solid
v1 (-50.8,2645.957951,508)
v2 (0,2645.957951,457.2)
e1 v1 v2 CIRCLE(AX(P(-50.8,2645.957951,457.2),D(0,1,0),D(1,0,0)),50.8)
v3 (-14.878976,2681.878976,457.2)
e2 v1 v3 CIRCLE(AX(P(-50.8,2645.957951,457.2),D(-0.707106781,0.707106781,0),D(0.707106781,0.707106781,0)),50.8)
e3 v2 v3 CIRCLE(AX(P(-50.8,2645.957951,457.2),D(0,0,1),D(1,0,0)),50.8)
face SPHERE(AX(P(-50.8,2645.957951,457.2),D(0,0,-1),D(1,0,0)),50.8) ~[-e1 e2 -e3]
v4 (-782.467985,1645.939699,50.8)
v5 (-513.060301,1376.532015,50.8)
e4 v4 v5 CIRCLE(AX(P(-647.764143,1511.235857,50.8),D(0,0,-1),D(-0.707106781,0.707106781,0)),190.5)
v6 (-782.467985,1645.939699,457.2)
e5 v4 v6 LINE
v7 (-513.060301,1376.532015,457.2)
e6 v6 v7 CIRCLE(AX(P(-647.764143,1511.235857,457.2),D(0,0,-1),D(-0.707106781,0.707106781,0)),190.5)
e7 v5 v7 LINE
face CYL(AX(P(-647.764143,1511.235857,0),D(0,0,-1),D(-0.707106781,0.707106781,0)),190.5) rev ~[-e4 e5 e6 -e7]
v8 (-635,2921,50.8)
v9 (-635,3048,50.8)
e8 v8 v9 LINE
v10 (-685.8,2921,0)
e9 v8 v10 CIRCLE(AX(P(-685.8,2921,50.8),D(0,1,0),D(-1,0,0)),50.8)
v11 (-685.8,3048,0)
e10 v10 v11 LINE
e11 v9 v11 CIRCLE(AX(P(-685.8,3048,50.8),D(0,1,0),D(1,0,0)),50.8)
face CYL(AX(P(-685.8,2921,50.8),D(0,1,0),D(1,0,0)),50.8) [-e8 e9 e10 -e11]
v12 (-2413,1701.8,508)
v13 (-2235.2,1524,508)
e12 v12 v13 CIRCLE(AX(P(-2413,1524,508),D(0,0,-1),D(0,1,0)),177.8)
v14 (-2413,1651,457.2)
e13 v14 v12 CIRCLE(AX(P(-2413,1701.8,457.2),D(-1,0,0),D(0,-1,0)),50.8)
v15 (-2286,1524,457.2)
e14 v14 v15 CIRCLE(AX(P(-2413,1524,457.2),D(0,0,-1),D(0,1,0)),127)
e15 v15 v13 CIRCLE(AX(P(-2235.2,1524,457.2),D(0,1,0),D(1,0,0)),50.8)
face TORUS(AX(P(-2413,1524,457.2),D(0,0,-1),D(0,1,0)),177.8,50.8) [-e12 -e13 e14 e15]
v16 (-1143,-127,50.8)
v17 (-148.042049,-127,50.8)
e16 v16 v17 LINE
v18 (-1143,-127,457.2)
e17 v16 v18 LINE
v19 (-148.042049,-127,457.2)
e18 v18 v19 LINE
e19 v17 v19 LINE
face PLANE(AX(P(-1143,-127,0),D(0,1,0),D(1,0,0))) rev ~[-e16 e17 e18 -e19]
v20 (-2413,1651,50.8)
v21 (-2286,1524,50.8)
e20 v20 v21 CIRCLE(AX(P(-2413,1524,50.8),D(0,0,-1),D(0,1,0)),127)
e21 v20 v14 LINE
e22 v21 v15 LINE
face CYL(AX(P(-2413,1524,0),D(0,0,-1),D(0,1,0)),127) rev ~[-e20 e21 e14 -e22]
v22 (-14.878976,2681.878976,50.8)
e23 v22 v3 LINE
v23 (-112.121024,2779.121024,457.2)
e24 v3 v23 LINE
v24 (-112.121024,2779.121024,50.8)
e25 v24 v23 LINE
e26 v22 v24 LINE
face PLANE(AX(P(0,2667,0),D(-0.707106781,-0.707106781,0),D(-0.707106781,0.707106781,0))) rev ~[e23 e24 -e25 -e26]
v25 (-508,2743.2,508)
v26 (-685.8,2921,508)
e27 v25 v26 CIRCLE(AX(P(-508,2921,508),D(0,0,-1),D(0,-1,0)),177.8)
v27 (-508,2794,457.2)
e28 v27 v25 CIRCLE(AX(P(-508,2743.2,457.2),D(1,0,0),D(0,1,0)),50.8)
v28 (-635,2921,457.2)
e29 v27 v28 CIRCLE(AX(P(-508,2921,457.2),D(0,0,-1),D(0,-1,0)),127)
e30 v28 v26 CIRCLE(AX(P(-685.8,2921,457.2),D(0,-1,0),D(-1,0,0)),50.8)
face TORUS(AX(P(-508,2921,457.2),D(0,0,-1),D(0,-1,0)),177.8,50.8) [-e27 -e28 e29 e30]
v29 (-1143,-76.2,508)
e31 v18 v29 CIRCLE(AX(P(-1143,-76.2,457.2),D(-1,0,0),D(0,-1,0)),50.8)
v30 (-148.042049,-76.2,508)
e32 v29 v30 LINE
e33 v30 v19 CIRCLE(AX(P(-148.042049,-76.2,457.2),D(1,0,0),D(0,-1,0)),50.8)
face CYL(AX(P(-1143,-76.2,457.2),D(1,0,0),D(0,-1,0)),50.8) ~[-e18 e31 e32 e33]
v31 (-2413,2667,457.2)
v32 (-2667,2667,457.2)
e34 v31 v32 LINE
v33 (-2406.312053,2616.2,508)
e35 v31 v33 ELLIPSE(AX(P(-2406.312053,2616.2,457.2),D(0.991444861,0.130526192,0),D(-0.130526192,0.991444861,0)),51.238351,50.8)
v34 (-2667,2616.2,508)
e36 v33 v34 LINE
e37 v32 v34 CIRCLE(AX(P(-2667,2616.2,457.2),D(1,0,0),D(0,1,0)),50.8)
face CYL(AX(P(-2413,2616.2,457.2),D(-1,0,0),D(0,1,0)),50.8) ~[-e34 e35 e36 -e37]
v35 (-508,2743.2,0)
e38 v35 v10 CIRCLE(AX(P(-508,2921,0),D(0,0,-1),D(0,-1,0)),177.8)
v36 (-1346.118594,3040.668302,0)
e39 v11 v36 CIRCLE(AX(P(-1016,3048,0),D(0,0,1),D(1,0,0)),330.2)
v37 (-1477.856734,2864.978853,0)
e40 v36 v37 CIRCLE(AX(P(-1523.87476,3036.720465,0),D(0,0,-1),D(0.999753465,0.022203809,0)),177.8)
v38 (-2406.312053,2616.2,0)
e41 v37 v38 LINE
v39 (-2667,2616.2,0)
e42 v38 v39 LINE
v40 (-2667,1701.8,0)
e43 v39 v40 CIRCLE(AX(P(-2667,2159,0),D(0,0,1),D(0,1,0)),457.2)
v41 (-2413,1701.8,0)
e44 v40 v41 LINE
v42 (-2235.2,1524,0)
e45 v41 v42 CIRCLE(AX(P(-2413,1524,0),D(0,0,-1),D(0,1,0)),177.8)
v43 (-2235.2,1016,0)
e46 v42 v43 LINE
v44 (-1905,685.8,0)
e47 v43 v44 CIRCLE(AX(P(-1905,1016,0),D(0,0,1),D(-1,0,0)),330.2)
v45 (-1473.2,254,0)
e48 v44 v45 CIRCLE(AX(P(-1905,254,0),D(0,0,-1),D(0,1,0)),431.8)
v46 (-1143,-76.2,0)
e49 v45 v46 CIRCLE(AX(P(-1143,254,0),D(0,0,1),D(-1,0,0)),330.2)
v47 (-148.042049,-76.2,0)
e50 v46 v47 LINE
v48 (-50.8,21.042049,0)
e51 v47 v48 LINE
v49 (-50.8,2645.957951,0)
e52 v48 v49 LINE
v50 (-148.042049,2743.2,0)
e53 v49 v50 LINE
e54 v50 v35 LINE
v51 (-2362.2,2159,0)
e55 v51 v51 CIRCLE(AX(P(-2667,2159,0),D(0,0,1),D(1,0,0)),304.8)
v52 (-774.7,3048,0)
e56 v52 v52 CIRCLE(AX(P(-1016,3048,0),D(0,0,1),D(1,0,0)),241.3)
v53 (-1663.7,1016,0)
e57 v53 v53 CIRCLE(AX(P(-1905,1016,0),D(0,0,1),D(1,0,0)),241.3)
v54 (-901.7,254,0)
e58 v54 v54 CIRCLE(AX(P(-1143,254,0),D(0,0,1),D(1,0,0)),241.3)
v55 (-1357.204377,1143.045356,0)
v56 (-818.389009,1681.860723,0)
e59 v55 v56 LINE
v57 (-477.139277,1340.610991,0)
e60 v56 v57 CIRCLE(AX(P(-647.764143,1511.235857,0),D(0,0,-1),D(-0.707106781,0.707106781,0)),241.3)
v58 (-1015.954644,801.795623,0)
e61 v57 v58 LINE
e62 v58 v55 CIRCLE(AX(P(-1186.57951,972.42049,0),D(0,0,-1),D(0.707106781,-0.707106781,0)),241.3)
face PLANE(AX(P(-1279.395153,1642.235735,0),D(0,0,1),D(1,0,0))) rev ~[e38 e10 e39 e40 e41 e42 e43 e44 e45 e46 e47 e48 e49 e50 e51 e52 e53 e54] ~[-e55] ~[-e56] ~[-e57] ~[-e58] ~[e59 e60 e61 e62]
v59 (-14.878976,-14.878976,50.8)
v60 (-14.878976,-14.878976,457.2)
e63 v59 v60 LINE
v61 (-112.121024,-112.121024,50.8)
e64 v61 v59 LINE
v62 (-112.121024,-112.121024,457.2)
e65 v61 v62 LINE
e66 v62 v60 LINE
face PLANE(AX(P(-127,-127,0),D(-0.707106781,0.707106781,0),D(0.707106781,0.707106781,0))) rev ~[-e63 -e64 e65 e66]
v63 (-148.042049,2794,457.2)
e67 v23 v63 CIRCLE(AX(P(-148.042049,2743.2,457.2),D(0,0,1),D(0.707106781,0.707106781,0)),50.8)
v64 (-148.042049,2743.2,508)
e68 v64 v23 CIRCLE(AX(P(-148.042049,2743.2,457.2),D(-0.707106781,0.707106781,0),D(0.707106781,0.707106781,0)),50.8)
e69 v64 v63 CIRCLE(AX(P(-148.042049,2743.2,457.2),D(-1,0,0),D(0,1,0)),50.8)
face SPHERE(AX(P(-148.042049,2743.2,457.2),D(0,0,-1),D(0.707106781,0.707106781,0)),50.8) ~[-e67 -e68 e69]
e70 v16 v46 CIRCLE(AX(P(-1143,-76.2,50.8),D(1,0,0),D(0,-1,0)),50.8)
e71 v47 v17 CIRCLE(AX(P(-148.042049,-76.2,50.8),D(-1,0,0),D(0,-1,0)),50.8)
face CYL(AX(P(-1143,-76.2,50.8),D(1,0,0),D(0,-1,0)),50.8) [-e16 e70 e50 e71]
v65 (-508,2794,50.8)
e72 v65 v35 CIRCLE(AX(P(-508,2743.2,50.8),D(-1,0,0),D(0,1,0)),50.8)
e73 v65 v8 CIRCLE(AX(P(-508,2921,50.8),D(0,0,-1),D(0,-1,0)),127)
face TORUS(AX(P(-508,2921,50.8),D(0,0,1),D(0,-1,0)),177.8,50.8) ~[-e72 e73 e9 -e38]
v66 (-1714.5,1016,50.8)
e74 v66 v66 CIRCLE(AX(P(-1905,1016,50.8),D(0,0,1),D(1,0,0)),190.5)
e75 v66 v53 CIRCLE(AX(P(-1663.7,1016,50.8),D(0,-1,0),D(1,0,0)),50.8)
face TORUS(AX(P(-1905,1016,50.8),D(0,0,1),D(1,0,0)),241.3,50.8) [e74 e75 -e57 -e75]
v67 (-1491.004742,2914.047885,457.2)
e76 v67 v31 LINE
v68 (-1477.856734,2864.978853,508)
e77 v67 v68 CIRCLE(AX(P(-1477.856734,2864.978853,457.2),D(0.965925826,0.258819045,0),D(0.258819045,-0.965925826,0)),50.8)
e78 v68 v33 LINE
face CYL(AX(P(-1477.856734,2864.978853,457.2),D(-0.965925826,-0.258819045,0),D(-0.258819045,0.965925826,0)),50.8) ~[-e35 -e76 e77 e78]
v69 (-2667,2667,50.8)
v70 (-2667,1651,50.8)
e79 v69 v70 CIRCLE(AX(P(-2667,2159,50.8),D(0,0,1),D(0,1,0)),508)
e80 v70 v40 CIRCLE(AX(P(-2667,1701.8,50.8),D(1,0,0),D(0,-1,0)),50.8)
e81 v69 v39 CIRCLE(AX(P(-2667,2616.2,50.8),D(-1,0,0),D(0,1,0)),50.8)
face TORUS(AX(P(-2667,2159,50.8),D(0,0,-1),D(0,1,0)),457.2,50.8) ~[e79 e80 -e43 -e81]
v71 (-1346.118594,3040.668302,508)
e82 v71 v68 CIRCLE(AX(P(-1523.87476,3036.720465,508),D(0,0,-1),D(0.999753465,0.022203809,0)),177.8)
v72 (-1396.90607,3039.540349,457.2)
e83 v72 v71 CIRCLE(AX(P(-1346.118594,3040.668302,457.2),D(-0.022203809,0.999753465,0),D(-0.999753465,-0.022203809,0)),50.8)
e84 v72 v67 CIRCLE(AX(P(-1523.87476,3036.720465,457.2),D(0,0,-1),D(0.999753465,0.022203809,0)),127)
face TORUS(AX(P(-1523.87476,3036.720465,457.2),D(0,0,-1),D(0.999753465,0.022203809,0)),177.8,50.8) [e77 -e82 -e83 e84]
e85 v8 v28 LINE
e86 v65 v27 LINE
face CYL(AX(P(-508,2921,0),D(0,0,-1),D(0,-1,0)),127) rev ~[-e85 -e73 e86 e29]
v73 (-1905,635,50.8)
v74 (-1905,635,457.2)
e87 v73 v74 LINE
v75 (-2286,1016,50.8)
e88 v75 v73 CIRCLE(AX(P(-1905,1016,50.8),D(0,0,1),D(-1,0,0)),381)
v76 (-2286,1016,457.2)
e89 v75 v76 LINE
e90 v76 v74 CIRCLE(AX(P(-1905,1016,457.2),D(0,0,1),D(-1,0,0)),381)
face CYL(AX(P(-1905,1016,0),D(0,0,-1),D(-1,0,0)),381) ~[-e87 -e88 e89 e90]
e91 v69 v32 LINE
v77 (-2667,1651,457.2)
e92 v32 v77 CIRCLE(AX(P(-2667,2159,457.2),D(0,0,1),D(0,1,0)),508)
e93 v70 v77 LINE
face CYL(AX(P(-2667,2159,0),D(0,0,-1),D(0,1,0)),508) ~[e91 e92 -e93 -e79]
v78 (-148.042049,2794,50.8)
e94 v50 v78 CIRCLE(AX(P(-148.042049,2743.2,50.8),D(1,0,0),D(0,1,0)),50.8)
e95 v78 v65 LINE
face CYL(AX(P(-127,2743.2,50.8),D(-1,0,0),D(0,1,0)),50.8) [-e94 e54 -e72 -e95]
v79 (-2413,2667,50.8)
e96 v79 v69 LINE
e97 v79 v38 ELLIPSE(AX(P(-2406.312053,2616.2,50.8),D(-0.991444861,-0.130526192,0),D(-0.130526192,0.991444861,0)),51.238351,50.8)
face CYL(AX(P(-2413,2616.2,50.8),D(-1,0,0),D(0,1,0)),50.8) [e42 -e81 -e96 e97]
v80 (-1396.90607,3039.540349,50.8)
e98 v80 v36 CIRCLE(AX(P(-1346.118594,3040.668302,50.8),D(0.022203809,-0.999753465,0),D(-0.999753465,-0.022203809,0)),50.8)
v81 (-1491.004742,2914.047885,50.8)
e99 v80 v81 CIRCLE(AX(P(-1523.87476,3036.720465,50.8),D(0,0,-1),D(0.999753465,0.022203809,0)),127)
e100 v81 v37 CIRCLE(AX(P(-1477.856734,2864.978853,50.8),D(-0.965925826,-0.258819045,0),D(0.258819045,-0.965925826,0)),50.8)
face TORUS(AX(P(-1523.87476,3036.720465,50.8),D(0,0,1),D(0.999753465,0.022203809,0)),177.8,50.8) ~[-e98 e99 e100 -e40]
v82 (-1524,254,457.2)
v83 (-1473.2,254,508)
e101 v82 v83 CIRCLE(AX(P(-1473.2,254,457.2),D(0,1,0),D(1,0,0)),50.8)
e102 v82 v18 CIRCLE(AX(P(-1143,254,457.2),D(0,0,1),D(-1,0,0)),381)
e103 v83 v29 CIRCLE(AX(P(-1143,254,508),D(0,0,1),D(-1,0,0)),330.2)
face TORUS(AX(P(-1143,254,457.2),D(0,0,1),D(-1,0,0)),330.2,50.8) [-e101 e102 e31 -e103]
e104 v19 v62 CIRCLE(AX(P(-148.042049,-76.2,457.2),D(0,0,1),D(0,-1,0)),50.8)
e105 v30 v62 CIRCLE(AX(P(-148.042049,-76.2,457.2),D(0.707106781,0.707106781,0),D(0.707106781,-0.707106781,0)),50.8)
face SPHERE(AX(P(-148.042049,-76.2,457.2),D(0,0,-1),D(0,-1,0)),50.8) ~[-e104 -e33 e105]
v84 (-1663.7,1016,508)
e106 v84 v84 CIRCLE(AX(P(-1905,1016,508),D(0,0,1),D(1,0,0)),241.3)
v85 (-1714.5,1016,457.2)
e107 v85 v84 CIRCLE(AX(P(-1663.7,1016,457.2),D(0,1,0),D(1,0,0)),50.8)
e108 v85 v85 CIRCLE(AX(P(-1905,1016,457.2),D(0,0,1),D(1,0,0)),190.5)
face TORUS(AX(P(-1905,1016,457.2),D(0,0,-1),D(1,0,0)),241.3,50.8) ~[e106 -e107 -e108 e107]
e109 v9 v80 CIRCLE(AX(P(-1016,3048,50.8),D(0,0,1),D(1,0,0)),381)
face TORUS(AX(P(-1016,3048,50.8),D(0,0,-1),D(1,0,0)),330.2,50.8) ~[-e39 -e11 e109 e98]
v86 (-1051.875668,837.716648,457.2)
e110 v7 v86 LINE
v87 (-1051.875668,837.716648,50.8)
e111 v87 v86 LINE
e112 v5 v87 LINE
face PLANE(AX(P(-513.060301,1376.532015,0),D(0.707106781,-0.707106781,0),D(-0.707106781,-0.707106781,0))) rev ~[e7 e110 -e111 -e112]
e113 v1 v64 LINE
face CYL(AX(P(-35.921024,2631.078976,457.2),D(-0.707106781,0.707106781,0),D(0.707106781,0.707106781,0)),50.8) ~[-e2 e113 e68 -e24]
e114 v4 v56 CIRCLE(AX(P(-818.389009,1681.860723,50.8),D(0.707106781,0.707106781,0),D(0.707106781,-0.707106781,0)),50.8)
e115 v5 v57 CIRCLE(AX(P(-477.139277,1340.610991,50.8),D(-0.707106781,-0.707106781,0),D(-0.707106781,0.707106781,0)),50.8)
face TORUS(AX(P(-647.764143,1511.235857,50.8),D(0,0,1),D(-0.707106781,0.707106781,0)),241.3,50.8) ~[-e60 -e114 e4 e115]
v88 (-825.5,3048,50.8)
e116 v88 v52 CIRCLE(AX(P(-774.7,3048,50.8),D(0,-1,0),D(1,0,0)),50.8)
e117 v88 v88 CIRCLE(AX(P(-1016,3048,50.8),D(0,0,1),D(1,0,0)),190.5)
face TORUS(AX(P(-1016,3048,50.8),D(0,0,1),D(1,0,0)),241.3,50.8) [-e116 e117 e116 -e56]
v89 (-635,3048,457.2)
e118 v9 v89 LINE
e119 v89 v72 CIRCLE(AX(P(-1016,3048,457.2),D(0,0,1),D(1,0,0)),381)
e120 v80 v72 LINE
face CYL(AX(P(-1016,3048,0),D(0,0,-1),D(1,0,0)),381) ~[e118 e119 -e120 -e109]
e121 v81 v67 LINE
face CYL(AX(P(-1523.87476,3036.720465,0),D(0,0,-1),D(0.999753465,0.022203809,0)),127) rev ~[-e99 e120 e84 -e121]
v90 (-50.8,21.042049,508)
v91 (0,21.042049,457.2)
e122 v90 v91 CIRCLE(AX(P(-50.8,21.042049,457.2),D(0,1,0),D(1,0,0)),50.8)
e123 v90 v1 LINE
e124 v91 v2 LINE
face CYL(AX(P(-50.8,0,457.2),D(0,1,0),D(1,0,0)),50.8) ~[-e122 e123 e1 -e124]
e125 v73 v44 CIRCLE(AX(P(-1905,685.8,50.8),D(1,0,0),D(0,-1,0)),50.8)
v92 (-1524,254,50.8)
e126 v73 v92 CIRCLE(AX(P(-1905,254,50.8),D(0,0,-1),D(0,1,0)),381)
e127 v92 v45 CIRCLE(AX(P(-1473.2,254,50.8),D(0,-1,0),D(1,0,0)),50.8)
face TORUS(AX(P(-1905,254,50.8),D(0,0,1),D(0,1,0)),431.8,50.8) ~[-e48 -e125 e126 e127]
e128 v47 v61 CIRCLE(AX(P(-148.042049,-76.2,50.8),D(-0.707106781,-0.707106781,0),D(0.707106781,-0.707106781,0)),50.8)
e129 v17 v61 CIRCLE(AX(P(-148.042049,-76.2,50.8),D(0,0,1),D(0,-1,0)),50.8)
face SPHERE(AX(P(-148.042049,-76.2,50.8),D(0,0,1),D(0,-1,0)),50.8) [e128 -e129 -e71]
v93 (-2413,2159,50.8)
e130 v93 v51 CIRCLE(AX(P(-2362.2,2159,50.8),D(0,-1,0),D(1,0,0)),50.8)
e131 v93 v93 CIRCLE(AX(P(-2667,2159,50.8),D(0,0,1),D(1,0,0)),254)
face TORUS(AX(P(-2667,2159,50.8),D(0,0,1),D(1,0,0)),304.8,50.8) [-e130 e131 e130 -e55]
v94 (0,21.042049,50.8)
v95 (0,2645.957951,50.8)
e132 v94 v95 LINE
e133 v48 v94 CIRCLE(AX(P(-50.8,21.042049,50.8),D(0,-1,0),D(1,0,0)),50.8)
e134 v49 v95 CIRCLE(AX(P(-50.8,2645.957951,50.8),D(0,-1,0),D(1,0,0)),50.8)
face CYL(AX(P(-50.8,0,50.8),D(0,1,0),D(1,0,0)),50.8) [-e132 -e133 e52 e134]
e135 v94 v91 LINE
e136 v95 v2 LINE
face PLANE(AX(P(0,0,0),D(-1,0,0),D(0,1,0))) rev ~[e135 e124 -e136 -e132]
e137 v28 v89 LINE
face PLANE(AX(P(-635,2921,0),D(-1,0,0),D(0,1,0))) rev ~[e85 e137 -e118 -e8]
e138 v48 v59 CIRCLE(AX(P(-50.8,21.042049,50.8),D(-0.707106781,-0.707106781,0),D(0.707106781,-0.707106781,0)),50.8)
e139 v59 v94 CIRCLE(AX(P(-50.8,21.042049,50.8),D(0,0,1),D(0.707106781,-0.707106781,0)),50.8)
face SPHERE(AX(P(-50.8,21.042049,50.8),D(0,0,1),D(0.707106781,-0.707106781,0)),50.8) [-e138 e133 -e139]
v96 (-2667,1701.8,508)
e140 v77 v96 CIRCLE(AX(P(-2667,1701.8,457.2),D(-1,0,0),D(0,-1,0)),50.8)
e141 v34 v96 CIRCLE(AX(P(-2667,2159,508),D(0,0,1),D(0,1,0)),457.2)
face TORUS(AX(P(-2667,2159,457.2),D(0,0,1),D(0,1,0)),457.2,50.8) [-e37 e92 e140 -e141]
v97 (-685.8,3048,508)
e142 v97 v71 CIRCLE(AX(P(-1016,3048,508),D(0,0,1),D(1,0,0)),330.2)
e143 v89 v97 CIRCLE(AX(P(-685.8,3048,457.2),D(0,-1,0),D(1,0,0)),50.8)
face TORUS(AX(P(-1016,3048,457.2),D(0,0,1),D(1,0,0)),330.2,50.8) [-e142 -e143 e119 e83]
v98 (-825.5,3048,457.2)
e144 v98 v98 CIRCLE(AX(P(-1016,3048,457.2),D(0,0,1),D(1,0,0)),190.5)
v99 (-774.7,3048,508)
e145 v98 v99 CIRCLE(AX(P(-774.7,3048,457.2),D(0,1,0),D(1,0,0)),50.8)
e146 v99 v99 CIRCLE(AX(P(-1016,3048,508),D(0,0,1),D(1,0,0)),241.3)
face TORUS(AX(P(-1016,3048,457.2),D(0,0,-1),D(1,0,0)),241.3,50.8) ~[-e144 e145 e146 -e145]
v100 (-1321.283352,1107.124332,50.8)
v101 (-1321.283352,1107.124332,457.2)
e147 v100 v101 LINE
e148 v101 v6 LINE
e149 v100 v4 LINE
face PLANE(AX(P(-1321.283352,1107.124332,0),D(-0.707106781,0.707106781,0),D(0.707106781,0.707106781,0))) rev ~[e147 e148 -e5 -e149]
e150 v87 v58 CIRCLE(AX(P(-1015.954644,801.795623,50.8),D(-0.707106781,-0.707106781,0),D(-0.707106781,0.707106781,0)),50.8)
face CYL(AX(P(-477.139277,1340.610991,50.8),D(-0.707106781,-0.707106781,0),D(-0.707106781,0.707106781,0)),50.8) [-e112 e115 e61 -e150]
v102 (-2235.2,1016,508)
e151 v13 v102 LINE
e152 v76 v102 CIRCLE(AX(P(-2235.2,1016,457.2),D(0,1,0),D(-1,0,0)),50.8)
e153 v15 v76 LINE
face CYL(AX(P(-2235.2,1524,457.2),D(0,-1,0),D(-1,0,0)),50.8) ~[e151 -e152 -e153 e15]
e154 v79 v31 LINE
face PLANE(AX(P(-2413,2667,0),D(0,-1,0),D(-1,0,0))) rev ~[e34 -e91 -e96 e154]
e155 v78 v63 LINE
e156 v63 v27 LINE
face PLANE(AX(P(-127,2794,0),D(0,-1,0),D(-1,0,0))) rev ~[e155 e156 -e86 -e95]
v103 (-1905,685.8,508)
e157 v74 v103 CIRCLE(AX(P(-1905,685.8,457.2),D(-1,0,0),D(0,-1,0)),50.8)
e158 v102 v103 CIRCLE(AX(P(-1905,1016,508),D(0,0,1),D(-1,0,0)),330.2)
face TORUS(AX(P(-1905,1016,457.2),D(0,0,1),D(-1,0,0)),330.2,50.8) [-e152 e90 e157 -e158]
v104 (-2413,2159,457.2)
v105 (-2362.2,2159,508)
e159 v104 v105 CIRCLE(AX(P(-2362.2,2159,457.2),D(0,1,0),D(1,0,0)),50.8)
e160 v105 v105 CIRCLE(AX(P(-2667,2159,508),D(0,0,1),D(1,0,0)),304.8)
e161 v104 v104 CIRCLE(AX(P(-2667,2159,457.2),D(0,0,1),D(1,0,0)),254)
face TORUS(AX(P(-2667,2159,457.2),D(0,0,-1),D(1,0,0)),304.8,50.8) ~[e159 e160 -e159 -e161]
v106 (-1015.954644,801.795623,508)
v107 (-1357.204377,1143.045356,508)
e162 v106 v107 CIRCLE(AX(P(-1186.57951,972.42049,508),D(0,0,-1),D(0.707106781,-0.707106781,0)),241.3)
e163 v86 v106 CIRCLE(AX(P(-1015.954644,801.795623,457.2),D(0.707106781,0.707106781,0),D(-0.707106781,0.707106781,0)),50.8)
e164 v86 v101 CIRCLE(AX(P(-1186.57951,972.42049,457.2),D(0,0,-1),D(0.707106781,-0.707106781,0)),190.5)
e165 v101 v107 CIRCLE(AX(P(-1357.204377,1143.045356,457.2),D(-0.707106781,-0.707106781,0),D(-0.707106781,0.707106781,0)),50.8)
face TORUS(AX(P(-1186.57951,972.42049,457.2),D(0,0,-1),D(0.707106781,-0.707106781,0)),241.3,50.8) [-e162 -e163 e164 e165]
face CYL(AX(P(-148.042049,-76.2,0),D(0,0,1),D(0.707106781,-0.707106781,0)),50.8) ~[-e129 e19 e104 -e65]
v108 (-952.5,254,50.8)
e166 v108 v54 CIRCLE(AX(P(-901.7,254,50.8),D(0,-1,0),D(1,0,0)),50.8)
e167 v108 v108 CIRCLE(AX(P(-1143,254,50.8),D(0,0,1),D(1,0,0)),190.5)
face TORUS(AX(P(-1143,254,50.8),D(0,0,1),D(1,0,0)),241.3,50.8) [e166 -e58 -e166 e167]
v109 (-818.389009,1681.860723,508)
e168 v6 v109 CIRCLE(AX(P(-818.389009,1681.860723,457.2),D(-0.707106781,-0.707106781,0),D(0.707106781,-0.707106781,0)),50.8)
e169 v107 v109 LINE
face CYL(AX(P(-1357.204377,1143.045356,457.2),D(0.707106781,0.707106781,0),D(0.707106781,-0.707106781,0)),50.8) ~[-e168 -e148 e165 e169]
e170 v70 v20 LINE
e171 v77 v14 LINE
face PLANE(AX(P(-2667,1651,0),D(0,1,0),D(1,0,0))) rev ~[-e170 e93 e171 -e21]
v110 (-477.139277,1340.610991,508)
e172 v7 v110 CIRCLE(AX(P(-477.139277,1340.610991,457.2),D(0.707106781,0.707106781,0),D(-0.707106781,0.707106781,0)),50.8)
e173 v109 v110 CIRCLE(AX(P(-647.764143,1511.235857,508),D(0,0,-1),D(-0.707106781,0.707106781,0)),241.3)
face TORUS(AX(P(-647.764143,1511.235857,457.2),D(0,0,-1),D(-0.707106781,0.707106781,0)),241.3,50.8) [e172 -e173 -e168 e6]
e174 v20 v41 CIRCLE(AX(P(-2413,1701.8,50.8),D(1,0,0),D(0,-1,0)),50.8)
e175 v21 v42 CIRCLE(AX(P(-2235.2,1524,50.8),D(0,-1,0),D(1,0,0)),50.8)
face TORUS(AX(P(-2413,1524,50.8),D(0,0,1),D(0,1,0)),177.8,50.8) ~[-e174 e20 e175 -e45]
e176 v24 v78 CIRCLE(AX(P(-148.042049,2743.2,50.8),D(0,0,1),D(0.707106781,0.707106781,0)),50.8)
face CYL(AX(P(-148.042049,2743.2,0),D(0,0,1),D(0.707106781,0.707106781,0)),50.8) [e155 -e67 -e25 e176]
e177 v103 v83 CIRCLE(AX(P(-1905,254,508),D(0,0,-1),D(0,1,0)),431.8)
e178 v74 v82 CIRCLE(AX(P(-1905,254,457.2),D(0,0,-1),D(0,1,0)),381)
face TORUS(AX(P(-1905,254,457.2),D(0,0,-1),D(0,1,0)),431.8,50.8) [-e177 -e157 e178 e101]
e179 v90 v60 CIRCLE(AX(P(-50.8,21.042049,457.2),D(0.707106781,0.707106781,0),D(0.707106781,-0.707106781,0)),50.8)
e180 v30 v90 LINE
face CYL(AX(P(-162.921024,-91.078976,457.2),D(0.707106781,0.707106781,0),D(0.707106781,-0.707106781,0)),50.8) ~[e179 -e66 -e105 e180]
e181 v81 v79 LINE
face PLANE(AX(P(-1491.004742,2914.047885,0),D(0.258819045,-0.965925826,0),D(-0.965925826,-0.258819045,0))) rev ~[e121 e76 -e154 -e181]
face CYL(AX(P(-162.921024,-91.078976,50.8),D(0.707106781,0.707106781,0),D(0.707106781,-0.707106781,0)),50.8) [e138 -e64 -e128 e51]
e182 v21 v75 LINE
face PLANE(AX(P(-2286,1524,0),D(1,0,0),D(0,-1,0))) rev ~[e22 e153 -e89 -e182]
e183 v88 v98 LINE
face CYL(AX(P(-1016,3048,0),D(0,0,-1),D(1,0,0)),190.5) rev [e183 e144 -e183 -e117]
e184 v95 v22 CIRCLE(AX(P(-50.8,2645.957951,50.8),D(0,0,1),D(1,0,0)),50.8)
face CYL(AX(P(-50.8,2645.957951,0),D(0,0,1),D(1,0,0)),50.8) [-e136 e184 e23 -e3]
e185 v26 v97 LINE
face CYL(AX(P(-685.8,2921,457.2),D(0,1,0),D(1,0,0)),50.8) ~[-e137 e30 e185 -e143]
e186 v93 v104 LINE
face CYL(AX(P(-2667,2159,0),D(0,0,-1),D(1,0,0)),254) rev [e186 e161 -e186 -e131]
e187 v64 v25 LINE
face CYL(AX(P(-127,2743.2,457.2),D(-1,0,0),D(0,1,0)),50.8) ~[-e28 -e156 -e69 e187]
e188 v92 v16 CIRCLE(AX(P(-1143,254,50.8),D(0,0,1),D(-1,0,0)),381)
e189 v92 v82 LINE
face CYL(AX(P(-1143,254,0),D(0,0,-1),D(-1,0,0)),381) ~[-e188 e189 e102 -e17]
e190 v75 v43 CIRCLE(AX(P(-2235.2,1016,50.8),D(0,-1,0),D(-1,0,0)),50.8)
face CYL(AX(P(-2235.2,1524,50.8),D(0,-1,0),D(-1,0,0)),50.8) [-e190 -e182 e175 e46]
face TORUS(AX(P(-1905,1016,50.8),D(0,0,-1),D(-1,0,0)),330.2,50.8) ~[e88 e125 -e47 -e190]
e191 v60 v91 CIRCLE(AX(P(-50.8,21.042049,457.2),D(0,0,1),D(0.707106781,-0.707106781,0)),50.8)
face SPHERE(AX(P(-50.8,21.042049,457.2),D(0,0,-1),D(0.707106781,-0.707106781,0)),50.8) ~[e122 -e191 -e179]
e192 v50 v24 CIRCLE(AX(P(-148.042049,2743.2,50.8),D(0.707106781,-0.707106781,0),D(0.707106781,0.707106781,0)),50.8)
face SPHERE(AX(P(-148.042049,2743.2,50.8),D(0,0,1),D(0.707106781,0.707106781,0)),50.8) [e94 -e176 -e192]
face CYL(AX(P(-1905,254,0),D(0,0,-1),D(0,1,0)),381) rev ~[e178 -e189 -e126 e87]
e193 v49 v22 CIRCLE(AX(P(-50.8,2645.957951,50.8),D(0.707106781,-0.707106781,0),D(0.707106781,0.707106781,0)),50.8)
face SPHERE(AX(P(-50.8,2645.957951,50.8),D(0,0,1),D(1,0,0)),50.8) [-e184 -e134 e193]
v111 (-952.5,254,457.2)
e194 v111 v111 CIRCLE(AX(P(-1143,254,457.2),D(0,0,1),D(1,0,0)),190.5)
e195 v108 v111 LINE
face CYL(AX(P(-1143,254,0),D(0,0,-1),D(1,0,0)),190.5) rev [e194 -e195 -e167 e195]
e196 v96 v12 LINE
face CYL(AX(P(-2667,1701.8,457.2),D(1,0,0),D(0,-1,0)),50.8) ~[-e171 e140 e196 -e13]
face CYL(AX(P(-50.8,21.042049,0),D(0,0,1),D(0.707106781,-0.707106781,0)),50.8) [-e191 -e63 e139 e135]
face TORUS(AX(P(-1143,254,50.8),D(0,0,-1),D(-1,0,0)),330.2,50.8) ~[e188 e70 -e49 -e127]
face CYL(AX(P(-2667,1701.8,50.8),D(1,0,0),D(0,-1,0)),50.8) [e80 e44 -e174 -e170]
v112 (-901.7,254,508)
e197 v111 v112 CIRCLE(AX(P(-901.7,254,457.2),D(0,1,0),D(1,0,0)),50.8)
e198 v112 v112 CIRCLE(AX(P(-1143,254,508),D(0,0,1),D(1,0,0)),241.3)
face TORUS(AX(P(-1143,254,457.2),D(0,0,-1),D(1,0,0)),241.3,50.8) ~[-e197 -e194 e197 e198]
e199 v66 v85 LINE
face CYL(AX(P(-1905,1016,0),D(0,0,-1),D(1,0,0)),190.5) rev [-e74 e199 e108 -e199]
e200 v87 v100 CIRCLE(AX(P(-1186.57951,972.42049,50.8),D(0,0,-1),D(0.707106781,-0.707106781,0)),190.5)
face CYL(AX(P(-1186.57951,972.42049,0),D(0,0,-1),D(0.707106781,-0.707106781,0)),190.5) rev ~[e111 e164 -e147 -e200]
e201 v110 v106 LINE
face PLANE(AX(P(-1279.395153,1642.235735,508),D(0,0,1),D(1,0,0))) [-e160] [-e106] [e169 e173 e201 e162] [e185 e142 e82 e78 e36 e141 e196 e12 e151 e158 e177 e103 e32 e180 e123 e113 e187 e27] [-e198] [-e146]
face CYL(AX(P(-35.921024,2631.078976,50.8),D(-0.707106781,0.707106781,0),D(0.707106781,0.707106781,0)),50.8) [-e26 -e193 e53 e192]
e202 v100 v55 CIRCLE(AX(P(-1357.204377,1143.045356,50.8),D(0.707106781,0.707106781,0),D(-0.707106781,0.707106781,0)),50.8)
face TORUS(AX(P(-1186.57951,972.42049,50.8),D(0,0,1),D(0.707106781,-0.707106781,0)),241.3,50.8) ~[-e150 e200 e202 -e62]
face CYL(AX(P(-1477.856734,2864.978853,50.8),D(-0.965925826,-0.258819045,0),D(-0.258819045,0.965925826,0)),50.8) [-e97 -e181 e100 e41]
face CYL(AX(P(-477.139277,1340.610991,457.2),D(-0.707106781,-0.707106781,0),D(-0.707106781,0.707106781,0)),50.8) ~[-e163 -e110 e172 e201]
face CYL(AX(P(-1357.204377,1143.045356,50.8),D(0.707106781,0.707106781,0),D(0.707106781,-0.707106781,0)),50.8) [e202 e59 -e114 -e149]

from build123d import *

# Parameters (mm, degrees)
F0_R     = 190.5
F0_R_2   = 254
F1_DEPTH = 508
F2_R     = 50.8


with BuildPart() as f1:
    # F0 (on Top) → F1 (new body)
    with BuildSketch(Plane.XY):
        with BuildLine():
            Line((-127, -127), (0, 0))
            Line((0, 0), (0, 2667))
            Line((0, 2667), (-127, 2794))
            Line((-127, 2794), (-508, 2794))
            ThreePointArc((-508, 2794), (-597.8025612107, 2831.1974387893), (-635, 2921))
            Line((-635, 2921), (-635, 3048))
            ThreePointArc((-635, 3048), (-1020.2300863955, 3428.976516821), (-1396.9060701789, 3039.5403486572))
            ThreePointArc((-1396.9060701789, 3039.5403486572), (-1422.2667250281, 2960.5311796672), (-1491.0047415106, 2914.0478849376))
            Line((-1491.0047415106, 2914.0478849376), (-2413, 2667))
            Line((-2413, 2667), (-2667, 2667))
            ThreePointArc((-2667, 2667), (-3175, 2159), (-2667, 1651))
            Line((-2667, 1651), (-2413, 1651))
            ThreePointArc((-2413, 1651), (-2323.1974387893, 1613.8025612107), (-2286, 1524))
            Line((-2286, 1524), (-2286, 1016))
            ThreePointArc((-2286, 1016), (-2174.4076836321, 746.5923163679), (-1905, 635))
            ThreePointArc((-1905, 635), (-1759.1976122689, 605.9981018868), (-1635.5923163679, 523.4076836321))
            ThreePointArc((-1635.5923163679, 523.4076836321), (-1553.0018981132, 399.8023877311), (-1524, 254))
            ThreePointArc((-1524, 254), (-1412.4076836321, -15.4076836321), (-1143, -127))
            Line((-1143, -127), (-127, -127))
        make_face()
        with Locations((-1905, 1016)):
            Circle(F0_R, mode=Mode.SUBTRACT)
        with Locations((-1143, 254)):
            Circle(F0_R, mode=Mode.SUBTRACT)
        with BuildLine():
            ThreePointArc((-1051.8756684984, 837.7166478695), (-1186.5795103145, 781.9204896855), (-1321.2833521305, 837.7166478695))
            ThreePointArc((-1321.2833521305, 837.7166478695), (-1377.0795103145, 972.4204896855), (-1321.2833521305, 1107.1243315016))
            Line((-1321.2833521305, 1107.1243315016), (-782.4679848664, 1645.9396987657))
            ThreePointArc((-782.4679848664, 1645.9396987657), (-513.0603012343, 1645.9396987657), (-513.0603012343, 1376.5320151336))
            Line((-513.0603012343, 1376.5320151336), (-1051.8756684984, 837.7166478695))
        make_face(mode=Mode.SUBTRACT)
        with Locations((-2667, 2159)):
            Circle(F0_R_2, mode=Mode.SUBTRACT)
        with Locations((-1016, 3048)):
            Circle(F0_R, mode=Mode.SUBTRACT)
    extrude(amount=F1_DEPTH)

    # F2
    f2_edges = [f1.edges().sort_by_distance(p)[0] for p in [
        (-3175, 2159, 508),
        (-2540, 1651, 508),
        (-2323.197439, 1613.802561, 508),
        (-2174.407684, 746.592316, 0),
        (-63.5, -63.5, 508),
        (0, 1333.5, 508),
        (-63.5, 2730.5, 508),
        (-317.5, 2794, 508),
        (-635, -127, 508),
        (-597.802561, 2831.197439, 508),
        (-635, 2984.5, 508),
        (-1020.230086, 3428.976517, 508),
        (-1422.266725, 2960.53118, 508),
        (-1952.002371, 2790.523942, 508),
        (-2540, 2667, 508),
        (-2286, 1270, 508),
        (-2174.407684, 746.592316, 508),
        (-1635.592316, 523.407684, 508),
        (-1412.407684, -15.407684, 508),
        (-2095.5, 1016, 508),
        (-1333.5, 254, 508),
        (-782.467985, 1107.124332, 508),
        (-1321.283352, 837.716648, 508),
        (-1051.875668, 1376.532015, 508),
        (-513.060301, 1645.939699, 508),
        (-2921, 2159, 508),
        (-1206.5, 3048, 508),
        (-635, -127, 0),
        (-63.5, -63.5, 0),
        (0, 1333.5, 0),
        (-63.5, 2730.5, 0),
        (-317.5, 2794, 0),
        (-597.802561, 2831.197439, 0),
        (-635, 2984.5, 0),
        (-1020.230086, 3428.976517, 0),
        (-1422.266725, 2960.53118, 0),
        (-1952.002371, 2790.523942, 0),
        (-2540, 2667, 0),
        (-3175, 2159, 0),
        (-2540, 1651, 0),
        (-2323.197439, 1613.802561, 0),
        (-2286, 1270, 0),
        (-1635.592316, 523.407684, 0),
        (-1412.407684, -15.407684, 0),
        (-2095.5, 1016, 0),
        (-1333.5, 254, 0),
        (-782.467985, 1107.124332, 0),
        (-1321.283352, 837.716648, 0),
        (-1051.875668, 1376.532015, 0),
        (-513.060301, 1645.939699, 0),
        (-2921, 2159, 0),
        (-1206.5, 3048, 0),
        (-127, -127, 254),
        (0, 0, 254),
        (0, 2667, 254),
        (-127, 2794, 254),
    ]]
    fillet(f2_edges, radius=F2_R)


solid = f1.part
